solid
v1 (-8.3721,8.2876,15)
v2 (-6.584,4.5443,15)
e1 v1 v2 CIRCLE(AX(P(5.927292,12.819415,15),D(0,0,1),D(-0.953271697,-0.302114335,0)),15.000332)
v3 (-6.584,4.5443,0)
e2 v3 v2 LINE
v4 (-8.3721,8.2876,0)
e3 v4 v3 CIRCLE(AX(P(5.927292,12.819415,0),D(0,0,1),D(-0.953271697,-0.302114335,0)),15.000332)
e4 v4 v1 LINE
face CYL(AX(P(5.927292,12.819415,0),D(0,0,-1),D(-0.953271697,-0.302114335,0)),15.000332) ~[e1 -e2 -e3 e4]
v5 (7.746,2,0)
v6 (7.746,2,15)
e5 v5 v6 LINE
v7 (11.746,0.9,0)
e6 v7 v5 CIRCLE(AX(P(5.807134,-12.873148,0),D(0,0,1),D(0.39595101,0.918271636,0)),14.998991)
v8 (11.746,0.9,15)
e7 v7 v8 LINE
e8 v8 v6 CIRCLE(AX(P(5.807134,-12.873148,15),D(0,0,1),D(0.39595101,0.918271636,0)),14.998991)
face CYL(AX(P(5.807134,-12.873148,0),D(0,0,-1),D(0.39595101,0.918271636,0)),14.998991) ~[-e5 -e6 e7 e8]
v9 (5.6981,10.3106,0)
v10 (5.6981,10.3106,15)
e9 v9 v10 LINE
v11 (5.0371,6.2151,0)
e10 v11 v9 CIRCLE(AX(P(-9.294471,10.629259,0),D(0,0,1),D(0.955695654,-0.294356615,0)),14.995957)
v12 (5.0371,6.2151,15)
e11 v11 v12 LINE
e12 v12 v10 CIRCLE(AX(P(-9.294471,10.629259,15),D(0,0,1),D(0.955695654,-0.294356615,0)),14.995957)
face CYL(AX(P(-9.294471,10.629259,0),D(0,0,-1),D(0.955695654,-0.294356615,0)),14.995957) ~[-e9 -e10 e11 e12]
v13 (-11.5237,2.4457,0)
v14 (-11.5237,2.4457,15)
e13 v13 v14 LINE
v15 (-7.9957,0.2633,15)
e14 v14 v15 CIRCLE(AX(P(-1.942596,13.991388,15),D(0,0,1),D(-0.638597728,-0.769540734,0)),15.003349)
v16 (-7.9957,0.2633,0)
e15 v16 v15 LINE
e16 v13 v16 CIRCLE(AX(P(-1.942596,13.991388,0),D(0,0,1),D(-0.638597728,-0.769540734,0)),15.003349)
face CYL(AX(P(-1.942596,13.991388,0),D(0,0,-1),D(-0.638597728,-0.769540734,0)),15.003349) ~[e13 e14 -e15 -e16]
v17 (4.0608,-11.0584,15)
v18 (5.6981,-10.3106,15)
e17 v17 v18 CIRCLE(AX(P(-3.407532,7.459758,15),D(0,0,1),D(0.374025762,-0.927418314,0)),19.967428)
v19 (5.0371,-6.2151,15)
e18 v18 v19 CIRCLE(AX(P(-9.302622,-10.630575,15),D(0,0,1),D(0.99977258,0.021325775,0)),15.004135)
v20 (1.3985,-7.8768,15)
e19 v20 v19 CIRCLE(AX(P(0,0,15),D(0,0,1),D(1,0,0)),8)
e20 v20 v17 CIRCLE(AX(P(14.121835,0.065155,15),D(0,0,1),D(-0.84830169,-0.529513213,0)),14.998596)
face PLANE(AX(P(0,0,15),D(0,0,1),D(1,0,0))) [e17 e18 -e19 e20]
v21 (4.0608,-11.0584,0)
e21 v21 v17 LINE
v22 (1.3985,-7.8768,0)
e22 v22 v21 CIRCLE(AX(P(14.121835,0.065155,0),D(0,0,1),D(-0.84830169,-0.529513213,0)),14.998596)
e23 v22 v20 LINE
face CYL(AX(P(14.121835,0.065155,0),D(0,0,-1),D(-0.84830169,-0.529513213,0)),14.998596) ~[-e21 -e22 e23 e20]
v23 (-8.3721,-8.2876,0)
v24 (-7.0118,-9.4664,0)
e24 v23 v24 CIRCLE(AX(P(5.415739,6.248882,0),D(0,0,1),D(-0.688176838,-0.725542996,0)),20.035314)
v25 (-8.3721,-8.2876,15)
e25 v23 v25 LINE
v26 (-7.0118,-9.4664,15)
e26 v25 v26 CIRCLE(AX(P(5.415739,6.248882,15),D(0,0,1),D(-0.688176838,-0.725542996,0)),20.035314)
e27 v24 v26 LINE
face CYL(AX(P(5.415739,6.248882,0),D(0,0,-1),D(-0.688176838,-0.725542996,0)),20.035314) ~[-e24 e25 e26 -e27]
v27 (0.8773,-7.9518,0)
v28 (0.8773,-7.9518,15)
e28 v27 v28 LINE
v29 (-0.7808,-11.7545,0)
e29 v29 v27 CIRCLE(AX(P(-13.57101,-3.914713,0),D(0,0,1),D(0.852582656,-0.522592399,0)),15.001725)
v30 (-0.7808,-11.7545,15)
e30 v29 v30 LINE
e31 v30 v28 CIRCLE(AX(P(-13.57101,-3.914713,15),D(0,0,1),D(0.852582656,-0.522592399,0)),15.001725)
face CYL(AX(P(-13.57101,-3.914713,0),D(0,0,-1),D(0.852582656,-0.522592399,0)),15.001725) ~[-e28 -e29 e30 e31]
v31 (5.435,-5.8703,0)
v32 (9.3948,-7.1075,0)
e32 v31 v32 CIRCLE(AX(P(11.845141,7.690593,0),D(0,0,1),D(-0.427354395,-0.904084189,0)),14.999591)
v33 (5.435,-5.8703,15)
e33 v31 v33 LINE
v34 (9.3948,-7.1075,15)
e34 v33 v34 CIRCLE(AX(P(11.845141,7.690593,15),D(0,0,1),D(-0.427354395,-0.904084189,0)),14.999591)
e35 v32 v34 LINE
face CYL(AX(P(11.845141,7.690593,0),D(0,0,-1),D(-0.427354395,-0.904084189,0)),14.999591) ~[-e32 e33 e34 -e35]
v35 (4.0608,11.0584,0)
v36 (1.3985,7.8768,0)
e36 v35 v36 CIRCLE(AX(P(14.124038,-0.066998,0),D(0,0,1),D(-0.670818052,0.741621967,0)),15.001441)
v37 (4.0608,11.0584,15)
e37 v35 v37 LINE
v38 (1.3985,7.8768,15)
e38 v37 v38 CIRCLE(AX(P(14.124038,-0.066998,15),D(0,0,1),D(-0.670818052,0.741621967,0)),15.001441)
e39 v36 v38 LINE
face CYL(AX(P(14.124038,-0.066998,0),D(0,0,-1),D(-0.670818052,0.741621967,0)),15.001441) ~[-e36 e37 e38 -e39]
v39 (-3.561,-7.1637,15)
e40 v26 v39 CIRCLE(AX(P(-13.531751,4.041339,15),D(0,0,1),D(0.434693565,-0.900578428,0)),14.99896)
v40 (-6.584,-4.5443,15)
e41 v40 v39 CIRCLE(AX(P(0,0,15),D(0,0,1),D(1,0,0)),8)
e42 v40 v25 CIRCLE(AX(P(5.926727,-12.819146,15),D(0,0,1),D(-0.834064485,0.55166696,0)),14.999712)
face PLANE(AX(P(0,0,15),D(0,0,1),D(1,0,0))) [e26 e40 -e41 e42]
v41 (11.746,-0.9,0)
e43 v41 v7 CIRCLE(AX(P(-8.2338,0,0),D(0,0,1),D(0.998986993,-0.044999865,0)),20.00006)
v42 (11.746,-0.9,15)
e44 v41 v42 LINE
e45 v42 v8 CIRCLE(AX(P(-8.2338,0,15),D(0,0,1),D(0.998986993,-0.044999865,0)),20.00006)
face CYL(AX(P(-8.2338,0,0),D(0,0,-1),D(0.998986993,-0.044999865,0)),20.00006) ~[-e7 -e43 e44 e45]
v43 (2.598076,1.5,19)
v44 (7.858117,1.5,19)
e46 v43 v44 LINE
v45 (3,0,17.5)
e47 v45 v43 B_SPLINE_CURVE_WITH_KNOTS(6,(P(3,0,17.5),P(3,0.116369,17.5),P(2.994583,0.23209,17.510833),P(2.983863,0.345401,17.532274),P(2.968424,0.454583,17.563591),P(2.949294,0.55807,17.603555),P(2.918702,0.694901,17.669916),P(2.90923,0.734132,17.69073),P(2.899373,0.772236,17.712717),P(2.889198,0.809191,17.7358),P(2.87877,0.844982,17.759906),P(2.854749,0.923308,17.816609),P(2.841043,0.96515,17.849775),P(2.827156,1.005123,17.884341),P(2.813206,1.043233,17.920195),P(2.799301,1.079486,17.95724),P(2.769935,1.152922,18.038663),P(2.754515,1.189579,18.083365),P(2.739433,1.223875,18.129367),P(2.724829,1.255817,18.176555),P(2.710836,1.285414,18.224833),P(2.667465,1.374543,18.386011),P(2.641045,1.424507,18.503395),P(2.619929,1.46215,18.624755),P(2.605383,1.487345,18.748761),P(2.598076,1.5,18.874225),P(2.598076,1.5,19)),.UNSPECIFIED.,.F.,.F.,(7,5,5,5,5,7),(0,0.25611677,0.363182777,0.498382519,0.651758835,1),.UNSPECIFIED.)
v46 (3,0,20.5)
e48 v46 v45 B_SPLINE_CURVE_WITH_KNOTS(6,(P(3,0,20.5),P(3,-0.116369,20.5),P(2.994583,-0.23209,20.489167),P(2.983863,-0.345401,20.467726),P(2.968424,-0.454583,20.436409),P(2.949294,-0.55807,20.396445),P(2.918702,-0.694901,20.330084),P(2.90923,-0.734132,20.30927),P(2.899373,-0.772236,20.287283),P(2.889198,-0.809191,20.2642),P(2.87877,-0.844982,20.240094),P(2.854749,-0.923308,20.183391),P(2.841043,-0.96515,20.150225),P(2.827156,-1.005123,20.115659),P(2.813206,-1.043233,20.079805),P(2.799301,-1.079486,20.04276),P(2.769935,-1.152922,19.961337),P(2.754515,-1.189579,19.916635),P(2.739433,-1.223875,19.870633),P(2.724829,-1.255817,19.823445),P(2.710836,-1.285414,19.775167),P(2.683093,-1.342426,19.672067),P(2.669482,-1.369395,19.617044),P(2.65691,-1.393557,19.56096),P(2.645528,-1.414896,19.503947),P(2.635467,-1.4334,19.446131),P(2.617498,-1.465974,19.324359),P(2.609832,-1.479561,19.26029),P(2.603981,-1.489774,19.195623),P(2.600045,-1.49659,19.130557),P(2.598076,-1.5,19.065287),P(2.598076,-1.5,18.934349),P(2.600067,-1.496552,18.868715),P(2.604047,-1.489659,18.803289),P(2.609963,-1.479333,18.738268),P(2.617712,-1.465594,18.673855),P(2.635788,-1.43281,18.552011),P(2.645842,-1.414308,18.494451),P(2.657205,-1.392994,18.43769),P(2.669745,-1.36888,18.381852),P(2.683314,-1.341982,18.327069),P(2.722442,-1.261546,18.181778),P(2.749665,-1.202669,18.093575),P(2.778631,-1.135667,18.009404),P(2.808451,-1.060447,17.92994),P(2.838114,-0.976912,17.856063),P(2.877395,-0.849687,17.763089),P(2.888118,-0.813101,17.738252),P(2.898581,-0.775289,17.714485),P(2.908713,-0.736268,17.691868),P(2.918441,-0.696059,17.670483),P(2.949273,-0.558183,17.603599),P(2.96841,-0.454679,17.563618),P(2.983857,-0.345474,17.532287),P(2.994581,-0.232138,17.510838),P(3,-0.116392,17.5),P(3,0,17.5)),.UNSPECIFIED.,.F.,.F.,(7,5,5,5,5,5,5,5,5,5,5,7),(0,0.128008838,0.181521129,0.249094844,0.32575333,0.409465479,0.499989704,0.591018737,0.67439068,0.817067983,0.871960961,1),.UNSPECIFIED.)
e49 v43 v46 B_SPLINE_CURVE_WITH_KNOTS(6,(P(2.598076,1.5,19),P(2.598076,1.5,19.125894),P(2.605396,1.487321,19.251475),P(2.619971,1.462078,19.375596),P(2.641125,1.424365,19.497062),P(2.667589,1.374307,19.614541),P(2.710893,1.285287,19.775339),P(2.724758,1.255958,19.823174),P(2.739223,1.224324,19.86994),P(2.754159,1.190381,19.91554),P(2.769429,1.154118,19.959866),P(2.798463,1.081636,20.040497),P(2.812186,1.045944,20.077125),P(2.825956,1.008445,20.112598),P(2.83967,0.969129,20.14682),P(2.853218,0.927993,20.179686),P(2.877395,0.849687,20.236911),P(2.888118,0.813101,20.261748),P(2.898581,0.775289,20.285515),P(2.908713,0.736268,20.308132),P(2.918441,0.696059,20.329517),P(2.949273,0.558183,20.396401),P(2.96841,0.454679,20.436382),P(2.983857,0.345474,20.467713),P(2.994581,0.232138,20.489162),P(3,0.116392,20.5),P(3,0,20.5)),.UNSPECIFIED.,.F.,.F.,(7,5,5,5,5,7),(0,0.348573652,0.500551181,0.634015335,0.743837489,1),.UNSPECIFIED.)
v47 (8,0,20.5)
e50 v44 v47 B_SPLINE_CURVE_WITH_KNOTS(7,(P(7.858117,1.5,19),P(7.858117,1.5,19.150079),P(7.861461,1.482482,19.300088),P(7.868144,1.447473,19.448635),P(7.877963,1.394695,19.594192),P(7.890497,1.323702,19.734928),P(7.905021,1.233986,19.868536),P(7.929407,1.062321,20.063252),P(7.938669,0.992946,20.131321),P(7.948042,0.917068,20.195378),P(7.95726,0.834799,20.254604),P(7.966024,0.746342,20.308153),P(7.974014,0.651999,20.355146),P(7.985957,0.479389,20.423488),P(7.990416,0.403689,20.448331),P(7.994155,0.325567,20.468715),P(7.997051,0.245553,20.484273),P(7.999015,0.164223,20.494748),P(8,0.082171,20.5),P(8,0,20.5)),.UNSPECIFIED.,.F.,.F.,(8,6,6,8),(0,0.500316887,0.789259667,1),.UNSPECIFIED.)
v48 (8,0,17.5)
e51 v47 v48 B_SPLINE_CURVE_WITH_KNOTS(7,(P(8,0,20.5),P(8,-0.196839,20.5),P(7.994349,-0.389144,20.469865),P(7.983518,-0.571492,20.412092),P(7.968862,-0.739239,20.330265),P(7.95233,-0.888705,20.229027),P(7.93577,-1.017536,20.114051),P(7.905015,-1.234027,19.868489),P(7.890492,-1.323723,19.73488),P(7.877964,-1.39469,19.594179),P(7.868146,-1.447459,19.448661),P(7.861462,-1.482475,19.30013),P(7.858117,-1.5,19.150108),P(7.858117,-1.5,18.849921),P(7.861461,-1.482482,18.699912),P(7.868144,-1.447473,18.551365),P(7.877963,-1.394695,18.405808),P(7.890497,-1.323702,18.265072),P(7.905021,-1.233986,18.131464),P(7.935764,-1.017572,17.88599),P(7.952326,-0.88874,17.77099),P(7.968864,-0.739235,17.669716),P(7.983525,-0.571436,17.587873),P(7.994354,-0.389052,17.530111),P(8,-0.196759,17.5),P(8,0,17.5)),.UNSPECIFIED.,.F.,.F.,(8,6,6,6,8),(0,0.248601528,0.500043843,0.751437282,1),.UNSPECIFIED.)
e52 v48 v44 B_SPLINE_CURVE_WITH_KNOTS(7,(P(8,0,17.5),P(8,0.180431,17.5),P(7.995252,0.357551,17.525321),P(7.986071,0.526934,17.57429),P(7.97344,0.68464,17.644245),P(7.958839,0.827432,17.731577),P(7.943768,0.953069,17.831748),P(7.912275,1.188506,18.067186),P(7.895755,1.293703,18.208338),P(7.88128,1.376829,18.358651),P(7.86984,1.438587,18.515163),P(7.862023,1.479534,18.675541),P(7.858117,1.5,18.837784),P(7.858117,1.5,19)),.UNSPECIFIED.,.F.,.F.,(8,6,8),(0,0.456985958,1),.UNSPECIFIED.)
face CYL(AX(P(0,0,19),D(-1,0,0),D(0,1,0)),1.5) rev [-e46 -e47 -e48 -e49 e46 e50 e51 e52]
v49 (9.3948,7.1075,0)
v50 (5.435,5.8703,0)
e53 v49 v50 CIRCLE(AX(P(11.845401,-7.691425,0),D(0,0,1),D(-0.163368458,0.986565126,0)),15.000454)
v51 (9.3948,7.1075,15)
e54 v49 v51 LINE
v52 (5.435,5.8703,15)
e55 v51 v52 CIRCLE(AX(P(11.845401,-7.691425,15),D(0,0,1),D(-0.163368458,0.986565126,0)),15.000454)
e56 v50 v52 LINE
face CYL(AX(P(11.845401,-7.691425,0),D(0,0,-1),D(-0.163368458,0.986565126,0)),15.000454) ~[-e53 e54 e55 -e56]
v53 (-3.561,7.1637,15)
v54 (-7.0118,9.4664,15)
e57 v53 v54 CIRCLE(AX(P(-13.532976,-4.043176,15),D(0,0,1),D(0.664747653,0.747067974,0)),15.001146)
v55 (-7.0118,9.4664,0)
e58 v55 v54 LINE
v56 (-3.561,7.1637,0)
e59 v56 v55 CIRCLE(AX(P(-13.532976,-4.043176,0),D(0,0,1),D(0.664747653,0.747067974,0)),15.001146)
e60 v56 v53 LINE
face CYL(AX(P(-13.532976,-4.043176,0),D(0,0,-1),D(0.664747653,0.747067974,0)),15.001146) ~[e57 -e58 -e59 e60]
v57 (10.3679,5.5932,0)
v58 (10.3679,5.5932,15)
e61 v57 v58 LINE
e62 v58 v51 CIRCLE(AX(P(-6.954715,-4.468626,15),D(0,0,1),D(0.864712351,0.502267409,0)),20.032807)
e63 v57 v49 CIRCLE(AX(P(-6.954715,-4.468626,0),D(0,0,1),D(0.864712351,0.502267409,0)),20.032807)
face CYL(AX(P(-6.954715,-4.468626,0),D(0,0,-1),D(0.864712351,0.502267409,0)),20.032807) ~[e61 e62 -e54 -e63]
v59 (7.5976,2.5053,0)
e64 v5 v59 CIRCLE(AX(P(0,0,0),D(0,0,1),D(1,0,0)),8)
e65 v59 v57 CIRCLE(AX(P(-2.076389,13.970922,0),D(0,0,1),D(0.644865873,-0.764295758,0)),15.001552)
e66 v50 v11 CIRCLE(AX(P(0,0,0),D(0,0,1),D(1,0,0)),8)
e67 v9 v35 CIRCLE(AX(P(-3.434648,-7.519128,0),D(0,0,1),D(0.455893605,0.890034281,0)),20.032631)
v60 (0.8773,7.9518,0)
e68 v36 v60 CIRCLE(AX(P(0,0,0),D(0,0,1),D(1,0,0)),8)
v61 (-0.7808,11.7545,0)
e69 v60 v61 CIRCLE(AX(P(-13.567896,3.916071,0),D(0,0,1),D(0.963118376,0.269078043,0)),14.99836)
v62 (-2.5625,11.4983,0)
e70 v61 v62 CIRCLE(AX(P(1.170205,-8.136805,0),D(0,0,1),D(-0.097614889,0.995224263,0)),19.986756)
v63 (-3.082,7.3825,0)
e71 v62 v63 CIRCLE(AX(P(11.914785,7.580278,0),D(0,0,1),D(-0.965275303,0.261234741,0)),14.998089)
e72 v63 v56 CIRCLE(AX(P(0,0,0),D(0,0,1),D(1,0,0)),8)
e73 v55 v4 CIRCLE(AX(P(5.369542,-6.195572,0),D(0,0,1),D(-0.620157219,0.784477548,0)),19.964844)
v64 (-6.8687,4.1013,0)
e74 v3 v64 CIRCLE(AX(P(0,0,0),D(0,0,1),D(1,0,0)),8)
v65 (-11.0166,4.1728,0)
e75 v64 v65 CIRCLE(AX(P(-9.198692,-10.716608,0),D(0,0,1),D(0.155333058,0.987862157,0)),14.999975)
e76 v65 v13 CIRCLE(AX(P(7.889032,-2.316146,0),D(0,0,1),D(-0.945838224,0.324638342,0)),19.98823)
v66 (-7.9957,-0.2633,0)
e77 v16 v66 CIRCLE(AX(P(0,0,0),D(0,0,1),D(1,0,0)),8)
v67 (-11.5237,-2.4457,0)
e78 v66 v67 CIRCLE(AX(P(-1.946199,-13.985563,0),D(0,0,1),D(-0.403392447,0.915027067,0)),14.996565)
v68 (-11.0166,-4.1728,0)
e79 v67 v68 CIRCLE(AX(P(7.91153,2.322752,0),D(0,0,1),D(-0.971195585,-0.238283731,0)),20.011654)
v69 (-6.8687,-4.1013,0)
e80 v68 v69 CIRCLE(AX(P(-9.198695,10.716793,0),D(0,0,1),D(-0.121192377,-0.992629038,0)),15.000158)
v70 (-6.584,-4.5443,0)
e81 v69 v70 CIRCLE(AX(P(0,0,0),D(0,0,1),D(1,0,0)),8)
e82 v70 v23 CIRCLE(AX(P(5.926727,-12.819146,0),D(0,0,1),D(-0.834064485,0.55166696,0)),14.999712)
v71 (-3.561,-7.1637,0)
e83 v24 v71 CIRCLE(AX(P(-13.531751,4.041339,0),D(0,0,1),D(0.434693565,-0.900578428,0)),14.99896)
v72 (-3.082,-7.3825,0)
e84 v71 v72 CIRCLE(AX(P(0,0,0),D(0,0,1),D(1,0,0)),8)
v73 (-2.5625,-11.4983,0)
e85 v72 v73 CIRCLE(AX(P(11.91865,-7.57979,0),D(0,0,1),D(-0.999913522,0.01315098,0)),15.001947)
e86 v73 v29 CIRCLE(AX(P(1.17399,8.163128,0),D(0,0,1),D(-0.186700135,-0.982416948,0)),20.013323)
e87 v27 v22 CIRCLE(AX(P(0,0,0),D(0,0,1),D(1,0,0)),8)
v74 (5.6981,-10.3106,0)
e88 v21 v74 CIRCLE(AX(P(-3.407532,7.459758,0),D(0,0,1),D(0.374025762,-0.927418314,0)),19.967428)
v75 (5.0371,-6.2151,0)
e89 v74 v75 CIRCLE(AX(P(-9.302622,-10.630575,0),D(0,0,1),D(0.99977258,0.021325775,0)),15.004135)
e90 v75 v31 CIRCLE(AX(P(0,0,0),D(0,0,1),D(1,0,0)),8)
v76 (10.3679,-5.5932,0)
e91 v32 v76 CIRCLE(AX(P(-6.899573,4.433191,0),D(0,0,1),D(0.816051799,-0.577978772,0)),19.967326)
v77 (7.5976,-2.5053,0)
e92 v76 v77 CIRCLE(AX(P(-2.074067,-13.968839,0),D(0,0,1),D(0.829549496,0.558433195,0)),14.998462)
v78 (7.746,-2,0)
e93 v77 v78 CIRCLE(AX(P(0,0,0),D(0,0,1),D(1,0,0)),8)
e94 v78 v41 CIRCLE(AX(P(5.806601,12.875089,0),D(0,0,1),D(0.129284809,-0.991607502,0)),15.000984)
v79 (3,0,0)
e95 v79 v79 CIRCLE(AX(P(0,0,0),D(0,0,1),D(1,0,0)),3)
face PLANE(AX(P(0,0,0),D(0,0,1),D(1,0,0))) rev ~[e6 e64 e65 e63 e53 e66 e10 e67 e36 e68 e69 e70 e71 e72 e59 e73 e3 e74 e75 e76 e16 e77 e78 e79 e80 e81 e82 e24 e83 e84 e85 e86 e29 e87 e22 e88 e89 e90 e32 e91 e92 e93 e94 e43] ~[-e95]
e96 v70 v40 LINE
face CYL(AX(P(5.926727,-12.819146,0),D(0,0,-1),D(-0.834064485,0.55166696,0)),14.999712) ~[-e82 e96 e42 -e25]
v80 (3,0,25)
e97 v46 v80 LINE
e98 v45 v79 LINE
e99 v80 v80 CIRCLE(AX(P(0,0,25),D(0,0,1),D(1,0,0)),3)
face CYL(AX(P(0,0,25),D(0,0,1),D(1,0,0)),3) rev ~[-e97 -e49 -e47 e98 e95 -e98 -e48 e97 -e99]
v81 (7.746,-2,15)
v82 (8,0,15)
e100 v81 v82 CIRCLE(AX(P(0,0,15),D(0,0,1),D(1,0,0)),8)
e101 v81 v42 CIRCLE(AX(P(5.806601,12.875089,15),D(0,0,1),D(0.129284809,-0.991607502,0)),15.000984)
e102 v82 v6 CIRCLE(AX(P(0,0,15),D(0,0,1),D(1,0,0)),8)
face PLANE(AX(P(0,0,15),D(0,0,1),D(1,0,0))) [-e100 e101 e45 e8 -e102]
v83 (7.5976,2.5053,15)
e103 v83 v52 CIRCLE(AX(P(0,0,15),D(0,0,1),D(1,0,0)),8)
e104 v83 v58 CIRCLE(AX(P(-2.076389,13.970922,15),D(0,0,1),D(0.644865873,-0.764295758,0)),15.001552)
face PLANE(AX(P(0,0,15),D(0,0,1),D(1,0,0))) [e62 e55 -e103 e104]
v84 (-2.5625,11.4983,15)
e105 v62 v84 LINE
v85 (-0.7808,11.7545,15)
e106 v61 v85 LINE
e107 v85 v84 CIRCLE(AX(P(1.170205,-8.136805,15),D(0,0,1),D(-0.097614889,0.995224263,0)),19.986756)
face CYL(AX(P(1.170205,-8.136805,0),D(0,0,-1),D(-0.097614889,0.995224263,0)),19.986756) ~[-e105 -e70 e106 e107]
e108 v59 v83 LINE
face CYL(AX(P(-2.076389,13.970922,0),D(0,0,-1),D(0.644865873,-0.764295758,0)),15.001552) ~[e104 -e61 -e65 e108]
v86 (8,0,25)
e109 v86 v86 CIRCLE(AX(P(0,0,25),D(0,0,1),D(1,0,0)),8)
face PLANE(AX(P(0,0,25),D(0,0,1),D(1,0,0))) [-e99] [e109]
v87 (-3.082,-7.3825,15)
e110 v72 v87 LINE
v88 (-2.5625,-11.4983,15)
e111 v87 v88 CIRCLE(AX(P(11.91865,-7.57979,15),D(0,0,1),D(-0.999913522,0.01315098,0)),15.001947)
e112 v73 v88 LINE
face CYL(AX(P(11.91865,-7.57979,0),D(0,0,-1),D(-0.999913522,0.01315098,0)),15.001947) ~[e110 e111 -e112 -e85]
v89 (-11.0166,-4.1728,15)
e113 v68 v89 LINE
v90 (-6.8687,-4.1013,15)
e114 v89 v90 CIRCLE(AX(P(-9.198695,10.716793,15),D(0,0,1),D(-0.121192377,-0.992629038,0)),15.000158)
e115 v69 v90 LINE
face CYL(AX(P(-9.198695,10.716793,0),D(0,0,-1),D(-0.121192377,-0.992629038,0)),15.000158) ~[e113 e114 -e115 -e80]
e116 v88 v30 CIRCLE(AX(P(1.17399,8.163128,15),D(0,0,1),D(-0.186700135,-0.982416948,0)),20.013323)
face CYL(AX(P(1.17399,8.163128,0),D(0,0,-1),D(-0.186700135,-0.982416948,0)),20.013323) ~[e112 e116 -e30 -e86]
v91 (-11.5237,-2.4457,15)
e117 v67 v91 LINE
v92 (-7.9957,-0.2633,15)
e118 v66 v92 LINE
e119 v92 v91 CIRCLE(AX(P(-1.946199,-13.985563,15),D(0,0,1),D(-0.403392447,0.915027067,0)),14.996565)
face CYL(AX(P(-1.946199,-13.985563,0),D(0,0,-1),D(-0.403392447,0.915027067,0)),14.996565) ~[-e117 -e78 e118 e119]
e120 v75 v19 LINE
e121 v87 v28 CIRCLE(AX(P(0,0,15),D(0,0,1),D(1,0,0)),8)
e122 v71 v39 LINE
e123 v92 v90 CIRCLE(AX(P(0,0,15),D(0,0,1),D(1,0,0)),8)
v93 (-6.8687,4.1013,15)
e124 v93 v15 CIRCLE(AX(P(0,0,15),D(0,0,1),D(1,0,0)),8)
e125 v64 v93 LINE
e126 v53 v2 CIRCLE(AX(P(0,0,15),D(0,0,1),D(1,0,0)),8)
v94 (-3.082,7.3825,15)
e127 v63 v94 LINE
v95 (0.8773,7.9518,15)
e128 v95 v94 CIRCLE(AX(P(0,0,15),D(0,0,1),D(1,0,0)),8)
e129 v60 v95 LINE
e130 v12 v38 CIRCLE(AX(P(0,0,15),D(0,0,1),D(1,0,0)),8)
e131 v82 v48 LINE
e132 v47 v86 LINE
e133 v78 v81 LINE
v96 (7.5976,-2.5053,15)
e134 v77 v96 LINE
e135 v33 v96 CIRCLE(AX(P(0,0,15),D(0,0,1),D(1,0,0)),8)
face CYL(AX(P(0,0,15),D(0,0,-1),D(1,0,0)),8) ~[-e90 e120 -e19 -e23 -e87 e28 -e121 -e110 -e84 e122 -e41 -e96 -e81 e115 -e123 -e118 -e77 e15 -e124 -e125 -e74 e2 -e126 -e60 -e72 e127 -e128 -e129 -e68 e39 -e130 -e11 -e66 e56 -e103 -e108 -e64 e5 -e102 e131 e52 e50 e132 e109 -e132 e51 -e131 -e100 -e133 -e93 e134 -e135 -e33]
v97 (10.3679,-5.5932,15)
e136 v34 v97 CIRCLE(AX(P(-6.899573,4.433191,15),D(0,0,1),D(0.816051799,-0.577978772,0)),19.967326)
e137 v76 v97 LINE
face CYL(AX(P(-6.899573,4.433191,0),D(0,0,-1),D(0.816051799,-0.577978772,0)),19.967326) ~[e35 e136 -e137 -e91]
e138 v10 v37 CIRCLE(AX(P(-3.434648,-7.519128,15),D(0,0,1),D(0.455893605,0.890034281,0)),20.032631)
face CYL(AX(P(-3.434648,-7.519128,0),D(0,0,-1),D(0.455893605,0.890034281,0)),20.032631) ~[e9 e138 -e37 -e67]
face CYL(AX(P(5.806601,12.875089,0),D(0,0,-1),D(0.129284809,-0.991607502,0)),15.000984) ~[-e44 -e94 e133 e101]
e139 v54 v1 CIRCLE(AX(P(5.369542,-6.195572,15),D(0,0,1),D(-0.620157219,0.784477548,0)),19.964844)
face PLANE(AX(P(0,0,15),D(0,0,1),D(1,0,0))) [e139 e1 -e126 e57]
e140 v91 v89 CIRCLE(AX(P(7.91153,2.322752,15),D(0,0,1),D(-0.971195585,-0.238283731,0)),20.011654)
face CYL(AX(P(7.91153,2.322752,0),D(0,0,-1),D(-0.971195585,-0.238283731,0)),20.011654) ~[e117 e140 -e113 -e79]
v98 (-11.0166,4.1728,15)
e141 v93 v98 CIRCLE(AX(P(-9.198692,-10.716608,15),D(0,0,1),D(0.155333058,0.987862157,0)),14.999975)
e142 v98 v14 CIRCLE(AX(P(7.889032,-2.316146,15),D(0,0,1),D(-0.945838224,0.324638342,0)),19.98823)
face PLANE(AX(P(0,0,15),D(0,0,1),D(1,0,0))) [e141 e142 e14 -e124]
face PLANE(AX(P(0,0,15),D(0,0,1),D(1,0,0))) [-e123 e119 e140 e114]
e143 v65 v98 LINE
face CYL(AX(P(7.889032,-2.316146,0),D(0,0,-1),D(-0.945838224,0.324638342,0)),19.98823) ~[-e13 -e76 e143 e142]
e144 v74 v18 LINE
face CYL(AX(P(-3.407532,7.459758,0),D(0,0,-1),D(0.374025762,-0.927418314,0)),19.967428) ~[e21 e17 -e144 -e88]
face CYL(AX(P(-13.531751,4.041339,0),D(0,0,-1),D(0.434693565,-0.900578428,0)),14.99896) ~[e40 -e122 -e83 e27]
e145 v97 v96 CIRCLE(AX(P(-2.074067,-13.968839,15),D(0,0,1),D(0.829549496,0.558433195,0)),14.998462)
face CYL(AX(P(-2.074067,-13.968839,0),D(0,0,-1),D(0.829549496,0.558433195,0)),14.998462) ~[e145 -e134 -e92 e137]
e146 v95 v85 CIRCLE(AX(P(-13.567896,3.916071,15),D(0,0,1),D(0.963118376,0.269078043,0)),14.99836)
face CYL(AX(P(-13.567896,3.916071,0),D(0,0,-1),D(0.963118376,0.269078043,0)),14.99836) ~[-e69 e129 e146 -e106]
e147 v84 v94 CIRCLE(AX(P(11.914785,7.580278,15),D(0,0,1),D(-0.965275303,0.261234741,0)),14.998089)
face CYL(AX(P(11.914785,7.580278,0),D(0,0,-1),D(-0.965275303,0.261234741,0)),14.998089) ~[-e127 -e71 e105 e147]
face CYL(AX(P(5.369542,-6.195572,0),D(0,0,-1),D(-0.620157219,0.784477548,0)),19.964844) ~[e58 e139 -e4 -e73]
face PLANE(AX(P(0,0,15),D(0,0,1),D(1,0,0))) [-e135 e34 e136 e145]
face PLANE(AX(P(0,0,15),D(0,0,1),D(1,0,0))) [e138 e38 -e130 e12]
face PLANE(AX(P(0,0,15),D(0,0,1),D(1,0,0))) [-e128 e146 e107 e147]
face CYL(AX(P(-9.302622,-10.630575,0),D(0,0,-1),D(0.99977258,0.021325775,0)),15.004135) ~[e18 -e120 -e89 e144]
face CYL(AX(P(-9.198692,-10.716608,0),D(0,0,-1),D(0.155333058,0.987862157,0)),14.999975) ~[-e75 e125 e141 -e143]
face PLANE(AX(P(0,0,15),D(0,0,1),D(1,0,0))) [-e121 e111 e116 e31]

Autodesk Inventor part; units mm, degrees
ref_plane "YZ Plane" through (0, 0, 0) normal (1, 0, 0) x (0, 1, 0)
ref_plane "XZ Plane" through (0, 0, 0) normal (0, 1, 0) x (-1, 0, 0)
ref_plane "XY Plane" through (0, 0, 0) normal (0, 0, 1) x (1, 0, 0)
sketch "Sketch1" plane through (0, 0, 0) normal (0, 0, 1) x (1, 0, 0)
  circle A0 centre (0, 0) radius 8
  line L0 (0, 0) -> (16, 0) construction
  arc A1 (11.746, 0.9) -> (7.746, 2) centre (5.8068, -12.8741) ccw
  arc A2 (7.746, -2) -> (11.746, -0.9) centre (5.8068, 12.8741) ccw
  arc A3 (7.746, -2) -> (7.746, 2) centre (0, 0) ccw
  arc A4 (11.746, -0.9) -> (11.746, 0.9) centre (-8.2338, 0) ccw
  arc A5 (9.3948, 7.1075) -> (5.435, 5.8703) centre (11.8453, -7.691) ccw
  arc A6 (10.3679, 5.5932) -> (9.3948, 7.1075) centre (-6.9267, -4.4515) ccw
  arc A7 (7.5976, 2.5053) -> (10.3679, 5.5932) centre (-2.0753, 13.9698) ccw
  arc A8 (7.5976, 2.5053) -> (5.435, 5.8703) centre (0, 0) ccw
  arc A9 (4.0608, 11.0584) -> (1.3985, 7.8768) centre (14.123, -0.066) ccw
  arc A10 (5.6981, 10.3106) -> (4.0608, 11.0584) centre (-3.4204, -7.4897) ccw
  arc A11 (5.0371, 6.2151) -> (5.6981, 10.3106) centre (-9.2985, 10.6302) ccw
  arc A12 (5.0371, 6.2151) -> (1.3985, 7.8768) centre (0, 0) ccw
  arc A13 (-2.5625, 11.4983) -> (-3.082, 7.3825) centre (11.9167, 7.5799) ccw
  arc A14 (-0.7808, 11.7545) -> (-2.5625, 11.4983) centre (1.1718, -8.15) ccw
  arc A15 (0.8773, 7.9518) -> (-0.7808, 11.7545) centre (-13.5695, 3.9155) ccw
  arc A16 (0.8773, 7.9518) -> (-3.082, 7.3825) centre (0, 0) ccw
  arc A17 (-8.3721, 8.2876) -> (-6.584, 4.5443) centre (5.927, 12.8193) ccw
  arc A18 (-7.0118, 9.4664) -> (-8.3721, 8.2876) centre (5.392, -6.2227) ccw
  arc A19 (-3.561, 7.1637) -> (-7.0118, 9.4664) centre (-13.5323, -4.0423) ccw
  arc A20 (-3.561, 7.1637) -> (-6.584, 4.5443) centre (0, 0) ccw
  arc A21 (-11.5237, 2.4457) -> (-7.9957, 0.2633) centre (-1.9446, 13.9886) ccw
  arc A22 (-11.0166, 4.1728) -> (-11.5237, 2.4457) centre (7.9002, -2.3197) ccw
  arc A23 (-6.8687, 4.1013) -> (-11.0166, 4.1728) centre (-9.1987, -10.7167) ccw
  arc A24 (-6.8687, 4.1013) -> (-7.9957, 0.2633) centre (0, 0) ccw
  arc A25 (-11.0166, -4.1728) -> (-6.8687, -4.1013) centre (-9.1987, 10.7167) ccw
  arc A26 (-11.5237, -2.4457) -> (-11.0166, -4.1728) centre (7.9002, 2.3197) ccw
  arc A27 (-7.9957, -0.2633) -> (-11.5237, -2.4457) centre (-1.9446, -13.9886) ccw
  arc A28 (-7.9957, -0.2633) -> (-6.8687, -4.1013) centre (0, 0) ccw
  arc A29 (-7.0118, -9.4664) -> (-3.561, -7.1637) centre (-13.5323, 4.0423) ccw
  arc A30 (-8.3721, -8.2876) -> (-7.0118, -9.4664) centre (5.392, 6.2227) ccw
  arc A31 (-6.584, -4.5443) -> (-8.3721, -8.2876) centre (5.927, -12.8193) ccw
  arc A32 (-6.584, -4.5443) -> (-3.561, -7.1637) centre (0, 0) ccw
  arc A33 (-0.7808, -11.7545) -> (0.8773, -7.9518) centre (-13.5695, -3.9155) ccw
  arc A34 (-2.5625, -11.4983) -> (-0.7808, -11.7545) centre (1.1718, 8.15) ccw
  arc A35 (-3.082, -7.3825) -> (-2.5625, -11.4983) centre (11.9167, -7.5799) ccw
  arc A36 (-3.082, -7.3825) -> (0.8773, -7.9518) centre (0, 0) ccw
  arc A37 (5.6981, -10.3106) -> (5.0371, -6.2151) centre (-9.2985, -10.6302) ccw
  arc A38 (4.0608, -11.0584) -> (5.6981, -10.3106) centre (-3.4204, 7.4897) ccw
  arc A39 (1.3985, -7.8768) -> (4.0608, -11.0584) centre (14.123, 0.066) ccw
  arc A40 (1.3985, -7.8768) -> (5.0371, -6.2151) centre (0, 0) ccw
  arc A41 (10.3679, -5.5932) -> (7.5976, -2.5053) centre (-2.0753, -13.9698) ccw
  arc A42 (9.3948, -7.1075) -> (10.3679, -5.5932) centre (-6.9267, 4.4515) ccw
  arc A43 (5.435, -5.8703) -> (9.3948, -7.1075) centre (11.8453, 7.691) ccw
  arc A44 (5.435, -5.8703) -> (7.5976, -2.5053) centre (0, 0) ccw
  point P0 (11.7662, 0)
  point P1 (9.8984, 6.3613)
  point P2 (4.8879, 10.7029)
  point P3 (-1.6745, 11.6465)
  point P4 (-7.7052, 8.8923)
  point P5 (-11.2896, 3.3149)
  point P6 (-11.2896, -3.3149)
  point P7 (-7.7052, -8.8923)
  point P8 (-1.6745, -11.6465)
  point P9 (4.8879, -10.7029)
  point P10 (9.8984, -6.3613)
  dimension "d0" = 16
  dimension "d1" = 16
  dimension "d2" = 15
  dimension "d3" = 4
  dimension "d4" = 2
  dimension "d6" = 1.8
  dimension "d15" = 20
  dimension "d18" = 360
extrude "Extrusion1" add sketch "Sketch1" along normal blind 15
sketch "Sketch2" plane through (0, 0, 15) normal (0, 0, 1) x (1, 0, 0)
  circle A0 centre (0, 0) radius 3
  circle A1 centre (0, 0) radius 8
  dimension "d22" = 6
  dimension "d23" = 16
extrude "Extrusion2" add sketch "Sketch2" along normal blind 10
sketch "Sketch3" plane through (0, 0, 25) normal (0, 0, 1) x (1, 0, 0)
  circle A0 centre (0, 0) radius 3 projected
extrude "Extrusion3" cut sketch "Sketch3" against normal through all
sketch "Sketch4" plane through (0, 0, 0) normal (1, 0, 0) x (0, 1, 0)
  circle A0 centre (0, 19) radius 1.5
  line L0 (8, 25) -> (-8, 25) projected
  point P0 (0, 0)
  dimension "d28" = 3
  dimension "d29" = 6
extrude "Extrusion4" cut sketch "Sketch4" along normal through all
properties part number "Motor Gear" material "ABS Plastic"
